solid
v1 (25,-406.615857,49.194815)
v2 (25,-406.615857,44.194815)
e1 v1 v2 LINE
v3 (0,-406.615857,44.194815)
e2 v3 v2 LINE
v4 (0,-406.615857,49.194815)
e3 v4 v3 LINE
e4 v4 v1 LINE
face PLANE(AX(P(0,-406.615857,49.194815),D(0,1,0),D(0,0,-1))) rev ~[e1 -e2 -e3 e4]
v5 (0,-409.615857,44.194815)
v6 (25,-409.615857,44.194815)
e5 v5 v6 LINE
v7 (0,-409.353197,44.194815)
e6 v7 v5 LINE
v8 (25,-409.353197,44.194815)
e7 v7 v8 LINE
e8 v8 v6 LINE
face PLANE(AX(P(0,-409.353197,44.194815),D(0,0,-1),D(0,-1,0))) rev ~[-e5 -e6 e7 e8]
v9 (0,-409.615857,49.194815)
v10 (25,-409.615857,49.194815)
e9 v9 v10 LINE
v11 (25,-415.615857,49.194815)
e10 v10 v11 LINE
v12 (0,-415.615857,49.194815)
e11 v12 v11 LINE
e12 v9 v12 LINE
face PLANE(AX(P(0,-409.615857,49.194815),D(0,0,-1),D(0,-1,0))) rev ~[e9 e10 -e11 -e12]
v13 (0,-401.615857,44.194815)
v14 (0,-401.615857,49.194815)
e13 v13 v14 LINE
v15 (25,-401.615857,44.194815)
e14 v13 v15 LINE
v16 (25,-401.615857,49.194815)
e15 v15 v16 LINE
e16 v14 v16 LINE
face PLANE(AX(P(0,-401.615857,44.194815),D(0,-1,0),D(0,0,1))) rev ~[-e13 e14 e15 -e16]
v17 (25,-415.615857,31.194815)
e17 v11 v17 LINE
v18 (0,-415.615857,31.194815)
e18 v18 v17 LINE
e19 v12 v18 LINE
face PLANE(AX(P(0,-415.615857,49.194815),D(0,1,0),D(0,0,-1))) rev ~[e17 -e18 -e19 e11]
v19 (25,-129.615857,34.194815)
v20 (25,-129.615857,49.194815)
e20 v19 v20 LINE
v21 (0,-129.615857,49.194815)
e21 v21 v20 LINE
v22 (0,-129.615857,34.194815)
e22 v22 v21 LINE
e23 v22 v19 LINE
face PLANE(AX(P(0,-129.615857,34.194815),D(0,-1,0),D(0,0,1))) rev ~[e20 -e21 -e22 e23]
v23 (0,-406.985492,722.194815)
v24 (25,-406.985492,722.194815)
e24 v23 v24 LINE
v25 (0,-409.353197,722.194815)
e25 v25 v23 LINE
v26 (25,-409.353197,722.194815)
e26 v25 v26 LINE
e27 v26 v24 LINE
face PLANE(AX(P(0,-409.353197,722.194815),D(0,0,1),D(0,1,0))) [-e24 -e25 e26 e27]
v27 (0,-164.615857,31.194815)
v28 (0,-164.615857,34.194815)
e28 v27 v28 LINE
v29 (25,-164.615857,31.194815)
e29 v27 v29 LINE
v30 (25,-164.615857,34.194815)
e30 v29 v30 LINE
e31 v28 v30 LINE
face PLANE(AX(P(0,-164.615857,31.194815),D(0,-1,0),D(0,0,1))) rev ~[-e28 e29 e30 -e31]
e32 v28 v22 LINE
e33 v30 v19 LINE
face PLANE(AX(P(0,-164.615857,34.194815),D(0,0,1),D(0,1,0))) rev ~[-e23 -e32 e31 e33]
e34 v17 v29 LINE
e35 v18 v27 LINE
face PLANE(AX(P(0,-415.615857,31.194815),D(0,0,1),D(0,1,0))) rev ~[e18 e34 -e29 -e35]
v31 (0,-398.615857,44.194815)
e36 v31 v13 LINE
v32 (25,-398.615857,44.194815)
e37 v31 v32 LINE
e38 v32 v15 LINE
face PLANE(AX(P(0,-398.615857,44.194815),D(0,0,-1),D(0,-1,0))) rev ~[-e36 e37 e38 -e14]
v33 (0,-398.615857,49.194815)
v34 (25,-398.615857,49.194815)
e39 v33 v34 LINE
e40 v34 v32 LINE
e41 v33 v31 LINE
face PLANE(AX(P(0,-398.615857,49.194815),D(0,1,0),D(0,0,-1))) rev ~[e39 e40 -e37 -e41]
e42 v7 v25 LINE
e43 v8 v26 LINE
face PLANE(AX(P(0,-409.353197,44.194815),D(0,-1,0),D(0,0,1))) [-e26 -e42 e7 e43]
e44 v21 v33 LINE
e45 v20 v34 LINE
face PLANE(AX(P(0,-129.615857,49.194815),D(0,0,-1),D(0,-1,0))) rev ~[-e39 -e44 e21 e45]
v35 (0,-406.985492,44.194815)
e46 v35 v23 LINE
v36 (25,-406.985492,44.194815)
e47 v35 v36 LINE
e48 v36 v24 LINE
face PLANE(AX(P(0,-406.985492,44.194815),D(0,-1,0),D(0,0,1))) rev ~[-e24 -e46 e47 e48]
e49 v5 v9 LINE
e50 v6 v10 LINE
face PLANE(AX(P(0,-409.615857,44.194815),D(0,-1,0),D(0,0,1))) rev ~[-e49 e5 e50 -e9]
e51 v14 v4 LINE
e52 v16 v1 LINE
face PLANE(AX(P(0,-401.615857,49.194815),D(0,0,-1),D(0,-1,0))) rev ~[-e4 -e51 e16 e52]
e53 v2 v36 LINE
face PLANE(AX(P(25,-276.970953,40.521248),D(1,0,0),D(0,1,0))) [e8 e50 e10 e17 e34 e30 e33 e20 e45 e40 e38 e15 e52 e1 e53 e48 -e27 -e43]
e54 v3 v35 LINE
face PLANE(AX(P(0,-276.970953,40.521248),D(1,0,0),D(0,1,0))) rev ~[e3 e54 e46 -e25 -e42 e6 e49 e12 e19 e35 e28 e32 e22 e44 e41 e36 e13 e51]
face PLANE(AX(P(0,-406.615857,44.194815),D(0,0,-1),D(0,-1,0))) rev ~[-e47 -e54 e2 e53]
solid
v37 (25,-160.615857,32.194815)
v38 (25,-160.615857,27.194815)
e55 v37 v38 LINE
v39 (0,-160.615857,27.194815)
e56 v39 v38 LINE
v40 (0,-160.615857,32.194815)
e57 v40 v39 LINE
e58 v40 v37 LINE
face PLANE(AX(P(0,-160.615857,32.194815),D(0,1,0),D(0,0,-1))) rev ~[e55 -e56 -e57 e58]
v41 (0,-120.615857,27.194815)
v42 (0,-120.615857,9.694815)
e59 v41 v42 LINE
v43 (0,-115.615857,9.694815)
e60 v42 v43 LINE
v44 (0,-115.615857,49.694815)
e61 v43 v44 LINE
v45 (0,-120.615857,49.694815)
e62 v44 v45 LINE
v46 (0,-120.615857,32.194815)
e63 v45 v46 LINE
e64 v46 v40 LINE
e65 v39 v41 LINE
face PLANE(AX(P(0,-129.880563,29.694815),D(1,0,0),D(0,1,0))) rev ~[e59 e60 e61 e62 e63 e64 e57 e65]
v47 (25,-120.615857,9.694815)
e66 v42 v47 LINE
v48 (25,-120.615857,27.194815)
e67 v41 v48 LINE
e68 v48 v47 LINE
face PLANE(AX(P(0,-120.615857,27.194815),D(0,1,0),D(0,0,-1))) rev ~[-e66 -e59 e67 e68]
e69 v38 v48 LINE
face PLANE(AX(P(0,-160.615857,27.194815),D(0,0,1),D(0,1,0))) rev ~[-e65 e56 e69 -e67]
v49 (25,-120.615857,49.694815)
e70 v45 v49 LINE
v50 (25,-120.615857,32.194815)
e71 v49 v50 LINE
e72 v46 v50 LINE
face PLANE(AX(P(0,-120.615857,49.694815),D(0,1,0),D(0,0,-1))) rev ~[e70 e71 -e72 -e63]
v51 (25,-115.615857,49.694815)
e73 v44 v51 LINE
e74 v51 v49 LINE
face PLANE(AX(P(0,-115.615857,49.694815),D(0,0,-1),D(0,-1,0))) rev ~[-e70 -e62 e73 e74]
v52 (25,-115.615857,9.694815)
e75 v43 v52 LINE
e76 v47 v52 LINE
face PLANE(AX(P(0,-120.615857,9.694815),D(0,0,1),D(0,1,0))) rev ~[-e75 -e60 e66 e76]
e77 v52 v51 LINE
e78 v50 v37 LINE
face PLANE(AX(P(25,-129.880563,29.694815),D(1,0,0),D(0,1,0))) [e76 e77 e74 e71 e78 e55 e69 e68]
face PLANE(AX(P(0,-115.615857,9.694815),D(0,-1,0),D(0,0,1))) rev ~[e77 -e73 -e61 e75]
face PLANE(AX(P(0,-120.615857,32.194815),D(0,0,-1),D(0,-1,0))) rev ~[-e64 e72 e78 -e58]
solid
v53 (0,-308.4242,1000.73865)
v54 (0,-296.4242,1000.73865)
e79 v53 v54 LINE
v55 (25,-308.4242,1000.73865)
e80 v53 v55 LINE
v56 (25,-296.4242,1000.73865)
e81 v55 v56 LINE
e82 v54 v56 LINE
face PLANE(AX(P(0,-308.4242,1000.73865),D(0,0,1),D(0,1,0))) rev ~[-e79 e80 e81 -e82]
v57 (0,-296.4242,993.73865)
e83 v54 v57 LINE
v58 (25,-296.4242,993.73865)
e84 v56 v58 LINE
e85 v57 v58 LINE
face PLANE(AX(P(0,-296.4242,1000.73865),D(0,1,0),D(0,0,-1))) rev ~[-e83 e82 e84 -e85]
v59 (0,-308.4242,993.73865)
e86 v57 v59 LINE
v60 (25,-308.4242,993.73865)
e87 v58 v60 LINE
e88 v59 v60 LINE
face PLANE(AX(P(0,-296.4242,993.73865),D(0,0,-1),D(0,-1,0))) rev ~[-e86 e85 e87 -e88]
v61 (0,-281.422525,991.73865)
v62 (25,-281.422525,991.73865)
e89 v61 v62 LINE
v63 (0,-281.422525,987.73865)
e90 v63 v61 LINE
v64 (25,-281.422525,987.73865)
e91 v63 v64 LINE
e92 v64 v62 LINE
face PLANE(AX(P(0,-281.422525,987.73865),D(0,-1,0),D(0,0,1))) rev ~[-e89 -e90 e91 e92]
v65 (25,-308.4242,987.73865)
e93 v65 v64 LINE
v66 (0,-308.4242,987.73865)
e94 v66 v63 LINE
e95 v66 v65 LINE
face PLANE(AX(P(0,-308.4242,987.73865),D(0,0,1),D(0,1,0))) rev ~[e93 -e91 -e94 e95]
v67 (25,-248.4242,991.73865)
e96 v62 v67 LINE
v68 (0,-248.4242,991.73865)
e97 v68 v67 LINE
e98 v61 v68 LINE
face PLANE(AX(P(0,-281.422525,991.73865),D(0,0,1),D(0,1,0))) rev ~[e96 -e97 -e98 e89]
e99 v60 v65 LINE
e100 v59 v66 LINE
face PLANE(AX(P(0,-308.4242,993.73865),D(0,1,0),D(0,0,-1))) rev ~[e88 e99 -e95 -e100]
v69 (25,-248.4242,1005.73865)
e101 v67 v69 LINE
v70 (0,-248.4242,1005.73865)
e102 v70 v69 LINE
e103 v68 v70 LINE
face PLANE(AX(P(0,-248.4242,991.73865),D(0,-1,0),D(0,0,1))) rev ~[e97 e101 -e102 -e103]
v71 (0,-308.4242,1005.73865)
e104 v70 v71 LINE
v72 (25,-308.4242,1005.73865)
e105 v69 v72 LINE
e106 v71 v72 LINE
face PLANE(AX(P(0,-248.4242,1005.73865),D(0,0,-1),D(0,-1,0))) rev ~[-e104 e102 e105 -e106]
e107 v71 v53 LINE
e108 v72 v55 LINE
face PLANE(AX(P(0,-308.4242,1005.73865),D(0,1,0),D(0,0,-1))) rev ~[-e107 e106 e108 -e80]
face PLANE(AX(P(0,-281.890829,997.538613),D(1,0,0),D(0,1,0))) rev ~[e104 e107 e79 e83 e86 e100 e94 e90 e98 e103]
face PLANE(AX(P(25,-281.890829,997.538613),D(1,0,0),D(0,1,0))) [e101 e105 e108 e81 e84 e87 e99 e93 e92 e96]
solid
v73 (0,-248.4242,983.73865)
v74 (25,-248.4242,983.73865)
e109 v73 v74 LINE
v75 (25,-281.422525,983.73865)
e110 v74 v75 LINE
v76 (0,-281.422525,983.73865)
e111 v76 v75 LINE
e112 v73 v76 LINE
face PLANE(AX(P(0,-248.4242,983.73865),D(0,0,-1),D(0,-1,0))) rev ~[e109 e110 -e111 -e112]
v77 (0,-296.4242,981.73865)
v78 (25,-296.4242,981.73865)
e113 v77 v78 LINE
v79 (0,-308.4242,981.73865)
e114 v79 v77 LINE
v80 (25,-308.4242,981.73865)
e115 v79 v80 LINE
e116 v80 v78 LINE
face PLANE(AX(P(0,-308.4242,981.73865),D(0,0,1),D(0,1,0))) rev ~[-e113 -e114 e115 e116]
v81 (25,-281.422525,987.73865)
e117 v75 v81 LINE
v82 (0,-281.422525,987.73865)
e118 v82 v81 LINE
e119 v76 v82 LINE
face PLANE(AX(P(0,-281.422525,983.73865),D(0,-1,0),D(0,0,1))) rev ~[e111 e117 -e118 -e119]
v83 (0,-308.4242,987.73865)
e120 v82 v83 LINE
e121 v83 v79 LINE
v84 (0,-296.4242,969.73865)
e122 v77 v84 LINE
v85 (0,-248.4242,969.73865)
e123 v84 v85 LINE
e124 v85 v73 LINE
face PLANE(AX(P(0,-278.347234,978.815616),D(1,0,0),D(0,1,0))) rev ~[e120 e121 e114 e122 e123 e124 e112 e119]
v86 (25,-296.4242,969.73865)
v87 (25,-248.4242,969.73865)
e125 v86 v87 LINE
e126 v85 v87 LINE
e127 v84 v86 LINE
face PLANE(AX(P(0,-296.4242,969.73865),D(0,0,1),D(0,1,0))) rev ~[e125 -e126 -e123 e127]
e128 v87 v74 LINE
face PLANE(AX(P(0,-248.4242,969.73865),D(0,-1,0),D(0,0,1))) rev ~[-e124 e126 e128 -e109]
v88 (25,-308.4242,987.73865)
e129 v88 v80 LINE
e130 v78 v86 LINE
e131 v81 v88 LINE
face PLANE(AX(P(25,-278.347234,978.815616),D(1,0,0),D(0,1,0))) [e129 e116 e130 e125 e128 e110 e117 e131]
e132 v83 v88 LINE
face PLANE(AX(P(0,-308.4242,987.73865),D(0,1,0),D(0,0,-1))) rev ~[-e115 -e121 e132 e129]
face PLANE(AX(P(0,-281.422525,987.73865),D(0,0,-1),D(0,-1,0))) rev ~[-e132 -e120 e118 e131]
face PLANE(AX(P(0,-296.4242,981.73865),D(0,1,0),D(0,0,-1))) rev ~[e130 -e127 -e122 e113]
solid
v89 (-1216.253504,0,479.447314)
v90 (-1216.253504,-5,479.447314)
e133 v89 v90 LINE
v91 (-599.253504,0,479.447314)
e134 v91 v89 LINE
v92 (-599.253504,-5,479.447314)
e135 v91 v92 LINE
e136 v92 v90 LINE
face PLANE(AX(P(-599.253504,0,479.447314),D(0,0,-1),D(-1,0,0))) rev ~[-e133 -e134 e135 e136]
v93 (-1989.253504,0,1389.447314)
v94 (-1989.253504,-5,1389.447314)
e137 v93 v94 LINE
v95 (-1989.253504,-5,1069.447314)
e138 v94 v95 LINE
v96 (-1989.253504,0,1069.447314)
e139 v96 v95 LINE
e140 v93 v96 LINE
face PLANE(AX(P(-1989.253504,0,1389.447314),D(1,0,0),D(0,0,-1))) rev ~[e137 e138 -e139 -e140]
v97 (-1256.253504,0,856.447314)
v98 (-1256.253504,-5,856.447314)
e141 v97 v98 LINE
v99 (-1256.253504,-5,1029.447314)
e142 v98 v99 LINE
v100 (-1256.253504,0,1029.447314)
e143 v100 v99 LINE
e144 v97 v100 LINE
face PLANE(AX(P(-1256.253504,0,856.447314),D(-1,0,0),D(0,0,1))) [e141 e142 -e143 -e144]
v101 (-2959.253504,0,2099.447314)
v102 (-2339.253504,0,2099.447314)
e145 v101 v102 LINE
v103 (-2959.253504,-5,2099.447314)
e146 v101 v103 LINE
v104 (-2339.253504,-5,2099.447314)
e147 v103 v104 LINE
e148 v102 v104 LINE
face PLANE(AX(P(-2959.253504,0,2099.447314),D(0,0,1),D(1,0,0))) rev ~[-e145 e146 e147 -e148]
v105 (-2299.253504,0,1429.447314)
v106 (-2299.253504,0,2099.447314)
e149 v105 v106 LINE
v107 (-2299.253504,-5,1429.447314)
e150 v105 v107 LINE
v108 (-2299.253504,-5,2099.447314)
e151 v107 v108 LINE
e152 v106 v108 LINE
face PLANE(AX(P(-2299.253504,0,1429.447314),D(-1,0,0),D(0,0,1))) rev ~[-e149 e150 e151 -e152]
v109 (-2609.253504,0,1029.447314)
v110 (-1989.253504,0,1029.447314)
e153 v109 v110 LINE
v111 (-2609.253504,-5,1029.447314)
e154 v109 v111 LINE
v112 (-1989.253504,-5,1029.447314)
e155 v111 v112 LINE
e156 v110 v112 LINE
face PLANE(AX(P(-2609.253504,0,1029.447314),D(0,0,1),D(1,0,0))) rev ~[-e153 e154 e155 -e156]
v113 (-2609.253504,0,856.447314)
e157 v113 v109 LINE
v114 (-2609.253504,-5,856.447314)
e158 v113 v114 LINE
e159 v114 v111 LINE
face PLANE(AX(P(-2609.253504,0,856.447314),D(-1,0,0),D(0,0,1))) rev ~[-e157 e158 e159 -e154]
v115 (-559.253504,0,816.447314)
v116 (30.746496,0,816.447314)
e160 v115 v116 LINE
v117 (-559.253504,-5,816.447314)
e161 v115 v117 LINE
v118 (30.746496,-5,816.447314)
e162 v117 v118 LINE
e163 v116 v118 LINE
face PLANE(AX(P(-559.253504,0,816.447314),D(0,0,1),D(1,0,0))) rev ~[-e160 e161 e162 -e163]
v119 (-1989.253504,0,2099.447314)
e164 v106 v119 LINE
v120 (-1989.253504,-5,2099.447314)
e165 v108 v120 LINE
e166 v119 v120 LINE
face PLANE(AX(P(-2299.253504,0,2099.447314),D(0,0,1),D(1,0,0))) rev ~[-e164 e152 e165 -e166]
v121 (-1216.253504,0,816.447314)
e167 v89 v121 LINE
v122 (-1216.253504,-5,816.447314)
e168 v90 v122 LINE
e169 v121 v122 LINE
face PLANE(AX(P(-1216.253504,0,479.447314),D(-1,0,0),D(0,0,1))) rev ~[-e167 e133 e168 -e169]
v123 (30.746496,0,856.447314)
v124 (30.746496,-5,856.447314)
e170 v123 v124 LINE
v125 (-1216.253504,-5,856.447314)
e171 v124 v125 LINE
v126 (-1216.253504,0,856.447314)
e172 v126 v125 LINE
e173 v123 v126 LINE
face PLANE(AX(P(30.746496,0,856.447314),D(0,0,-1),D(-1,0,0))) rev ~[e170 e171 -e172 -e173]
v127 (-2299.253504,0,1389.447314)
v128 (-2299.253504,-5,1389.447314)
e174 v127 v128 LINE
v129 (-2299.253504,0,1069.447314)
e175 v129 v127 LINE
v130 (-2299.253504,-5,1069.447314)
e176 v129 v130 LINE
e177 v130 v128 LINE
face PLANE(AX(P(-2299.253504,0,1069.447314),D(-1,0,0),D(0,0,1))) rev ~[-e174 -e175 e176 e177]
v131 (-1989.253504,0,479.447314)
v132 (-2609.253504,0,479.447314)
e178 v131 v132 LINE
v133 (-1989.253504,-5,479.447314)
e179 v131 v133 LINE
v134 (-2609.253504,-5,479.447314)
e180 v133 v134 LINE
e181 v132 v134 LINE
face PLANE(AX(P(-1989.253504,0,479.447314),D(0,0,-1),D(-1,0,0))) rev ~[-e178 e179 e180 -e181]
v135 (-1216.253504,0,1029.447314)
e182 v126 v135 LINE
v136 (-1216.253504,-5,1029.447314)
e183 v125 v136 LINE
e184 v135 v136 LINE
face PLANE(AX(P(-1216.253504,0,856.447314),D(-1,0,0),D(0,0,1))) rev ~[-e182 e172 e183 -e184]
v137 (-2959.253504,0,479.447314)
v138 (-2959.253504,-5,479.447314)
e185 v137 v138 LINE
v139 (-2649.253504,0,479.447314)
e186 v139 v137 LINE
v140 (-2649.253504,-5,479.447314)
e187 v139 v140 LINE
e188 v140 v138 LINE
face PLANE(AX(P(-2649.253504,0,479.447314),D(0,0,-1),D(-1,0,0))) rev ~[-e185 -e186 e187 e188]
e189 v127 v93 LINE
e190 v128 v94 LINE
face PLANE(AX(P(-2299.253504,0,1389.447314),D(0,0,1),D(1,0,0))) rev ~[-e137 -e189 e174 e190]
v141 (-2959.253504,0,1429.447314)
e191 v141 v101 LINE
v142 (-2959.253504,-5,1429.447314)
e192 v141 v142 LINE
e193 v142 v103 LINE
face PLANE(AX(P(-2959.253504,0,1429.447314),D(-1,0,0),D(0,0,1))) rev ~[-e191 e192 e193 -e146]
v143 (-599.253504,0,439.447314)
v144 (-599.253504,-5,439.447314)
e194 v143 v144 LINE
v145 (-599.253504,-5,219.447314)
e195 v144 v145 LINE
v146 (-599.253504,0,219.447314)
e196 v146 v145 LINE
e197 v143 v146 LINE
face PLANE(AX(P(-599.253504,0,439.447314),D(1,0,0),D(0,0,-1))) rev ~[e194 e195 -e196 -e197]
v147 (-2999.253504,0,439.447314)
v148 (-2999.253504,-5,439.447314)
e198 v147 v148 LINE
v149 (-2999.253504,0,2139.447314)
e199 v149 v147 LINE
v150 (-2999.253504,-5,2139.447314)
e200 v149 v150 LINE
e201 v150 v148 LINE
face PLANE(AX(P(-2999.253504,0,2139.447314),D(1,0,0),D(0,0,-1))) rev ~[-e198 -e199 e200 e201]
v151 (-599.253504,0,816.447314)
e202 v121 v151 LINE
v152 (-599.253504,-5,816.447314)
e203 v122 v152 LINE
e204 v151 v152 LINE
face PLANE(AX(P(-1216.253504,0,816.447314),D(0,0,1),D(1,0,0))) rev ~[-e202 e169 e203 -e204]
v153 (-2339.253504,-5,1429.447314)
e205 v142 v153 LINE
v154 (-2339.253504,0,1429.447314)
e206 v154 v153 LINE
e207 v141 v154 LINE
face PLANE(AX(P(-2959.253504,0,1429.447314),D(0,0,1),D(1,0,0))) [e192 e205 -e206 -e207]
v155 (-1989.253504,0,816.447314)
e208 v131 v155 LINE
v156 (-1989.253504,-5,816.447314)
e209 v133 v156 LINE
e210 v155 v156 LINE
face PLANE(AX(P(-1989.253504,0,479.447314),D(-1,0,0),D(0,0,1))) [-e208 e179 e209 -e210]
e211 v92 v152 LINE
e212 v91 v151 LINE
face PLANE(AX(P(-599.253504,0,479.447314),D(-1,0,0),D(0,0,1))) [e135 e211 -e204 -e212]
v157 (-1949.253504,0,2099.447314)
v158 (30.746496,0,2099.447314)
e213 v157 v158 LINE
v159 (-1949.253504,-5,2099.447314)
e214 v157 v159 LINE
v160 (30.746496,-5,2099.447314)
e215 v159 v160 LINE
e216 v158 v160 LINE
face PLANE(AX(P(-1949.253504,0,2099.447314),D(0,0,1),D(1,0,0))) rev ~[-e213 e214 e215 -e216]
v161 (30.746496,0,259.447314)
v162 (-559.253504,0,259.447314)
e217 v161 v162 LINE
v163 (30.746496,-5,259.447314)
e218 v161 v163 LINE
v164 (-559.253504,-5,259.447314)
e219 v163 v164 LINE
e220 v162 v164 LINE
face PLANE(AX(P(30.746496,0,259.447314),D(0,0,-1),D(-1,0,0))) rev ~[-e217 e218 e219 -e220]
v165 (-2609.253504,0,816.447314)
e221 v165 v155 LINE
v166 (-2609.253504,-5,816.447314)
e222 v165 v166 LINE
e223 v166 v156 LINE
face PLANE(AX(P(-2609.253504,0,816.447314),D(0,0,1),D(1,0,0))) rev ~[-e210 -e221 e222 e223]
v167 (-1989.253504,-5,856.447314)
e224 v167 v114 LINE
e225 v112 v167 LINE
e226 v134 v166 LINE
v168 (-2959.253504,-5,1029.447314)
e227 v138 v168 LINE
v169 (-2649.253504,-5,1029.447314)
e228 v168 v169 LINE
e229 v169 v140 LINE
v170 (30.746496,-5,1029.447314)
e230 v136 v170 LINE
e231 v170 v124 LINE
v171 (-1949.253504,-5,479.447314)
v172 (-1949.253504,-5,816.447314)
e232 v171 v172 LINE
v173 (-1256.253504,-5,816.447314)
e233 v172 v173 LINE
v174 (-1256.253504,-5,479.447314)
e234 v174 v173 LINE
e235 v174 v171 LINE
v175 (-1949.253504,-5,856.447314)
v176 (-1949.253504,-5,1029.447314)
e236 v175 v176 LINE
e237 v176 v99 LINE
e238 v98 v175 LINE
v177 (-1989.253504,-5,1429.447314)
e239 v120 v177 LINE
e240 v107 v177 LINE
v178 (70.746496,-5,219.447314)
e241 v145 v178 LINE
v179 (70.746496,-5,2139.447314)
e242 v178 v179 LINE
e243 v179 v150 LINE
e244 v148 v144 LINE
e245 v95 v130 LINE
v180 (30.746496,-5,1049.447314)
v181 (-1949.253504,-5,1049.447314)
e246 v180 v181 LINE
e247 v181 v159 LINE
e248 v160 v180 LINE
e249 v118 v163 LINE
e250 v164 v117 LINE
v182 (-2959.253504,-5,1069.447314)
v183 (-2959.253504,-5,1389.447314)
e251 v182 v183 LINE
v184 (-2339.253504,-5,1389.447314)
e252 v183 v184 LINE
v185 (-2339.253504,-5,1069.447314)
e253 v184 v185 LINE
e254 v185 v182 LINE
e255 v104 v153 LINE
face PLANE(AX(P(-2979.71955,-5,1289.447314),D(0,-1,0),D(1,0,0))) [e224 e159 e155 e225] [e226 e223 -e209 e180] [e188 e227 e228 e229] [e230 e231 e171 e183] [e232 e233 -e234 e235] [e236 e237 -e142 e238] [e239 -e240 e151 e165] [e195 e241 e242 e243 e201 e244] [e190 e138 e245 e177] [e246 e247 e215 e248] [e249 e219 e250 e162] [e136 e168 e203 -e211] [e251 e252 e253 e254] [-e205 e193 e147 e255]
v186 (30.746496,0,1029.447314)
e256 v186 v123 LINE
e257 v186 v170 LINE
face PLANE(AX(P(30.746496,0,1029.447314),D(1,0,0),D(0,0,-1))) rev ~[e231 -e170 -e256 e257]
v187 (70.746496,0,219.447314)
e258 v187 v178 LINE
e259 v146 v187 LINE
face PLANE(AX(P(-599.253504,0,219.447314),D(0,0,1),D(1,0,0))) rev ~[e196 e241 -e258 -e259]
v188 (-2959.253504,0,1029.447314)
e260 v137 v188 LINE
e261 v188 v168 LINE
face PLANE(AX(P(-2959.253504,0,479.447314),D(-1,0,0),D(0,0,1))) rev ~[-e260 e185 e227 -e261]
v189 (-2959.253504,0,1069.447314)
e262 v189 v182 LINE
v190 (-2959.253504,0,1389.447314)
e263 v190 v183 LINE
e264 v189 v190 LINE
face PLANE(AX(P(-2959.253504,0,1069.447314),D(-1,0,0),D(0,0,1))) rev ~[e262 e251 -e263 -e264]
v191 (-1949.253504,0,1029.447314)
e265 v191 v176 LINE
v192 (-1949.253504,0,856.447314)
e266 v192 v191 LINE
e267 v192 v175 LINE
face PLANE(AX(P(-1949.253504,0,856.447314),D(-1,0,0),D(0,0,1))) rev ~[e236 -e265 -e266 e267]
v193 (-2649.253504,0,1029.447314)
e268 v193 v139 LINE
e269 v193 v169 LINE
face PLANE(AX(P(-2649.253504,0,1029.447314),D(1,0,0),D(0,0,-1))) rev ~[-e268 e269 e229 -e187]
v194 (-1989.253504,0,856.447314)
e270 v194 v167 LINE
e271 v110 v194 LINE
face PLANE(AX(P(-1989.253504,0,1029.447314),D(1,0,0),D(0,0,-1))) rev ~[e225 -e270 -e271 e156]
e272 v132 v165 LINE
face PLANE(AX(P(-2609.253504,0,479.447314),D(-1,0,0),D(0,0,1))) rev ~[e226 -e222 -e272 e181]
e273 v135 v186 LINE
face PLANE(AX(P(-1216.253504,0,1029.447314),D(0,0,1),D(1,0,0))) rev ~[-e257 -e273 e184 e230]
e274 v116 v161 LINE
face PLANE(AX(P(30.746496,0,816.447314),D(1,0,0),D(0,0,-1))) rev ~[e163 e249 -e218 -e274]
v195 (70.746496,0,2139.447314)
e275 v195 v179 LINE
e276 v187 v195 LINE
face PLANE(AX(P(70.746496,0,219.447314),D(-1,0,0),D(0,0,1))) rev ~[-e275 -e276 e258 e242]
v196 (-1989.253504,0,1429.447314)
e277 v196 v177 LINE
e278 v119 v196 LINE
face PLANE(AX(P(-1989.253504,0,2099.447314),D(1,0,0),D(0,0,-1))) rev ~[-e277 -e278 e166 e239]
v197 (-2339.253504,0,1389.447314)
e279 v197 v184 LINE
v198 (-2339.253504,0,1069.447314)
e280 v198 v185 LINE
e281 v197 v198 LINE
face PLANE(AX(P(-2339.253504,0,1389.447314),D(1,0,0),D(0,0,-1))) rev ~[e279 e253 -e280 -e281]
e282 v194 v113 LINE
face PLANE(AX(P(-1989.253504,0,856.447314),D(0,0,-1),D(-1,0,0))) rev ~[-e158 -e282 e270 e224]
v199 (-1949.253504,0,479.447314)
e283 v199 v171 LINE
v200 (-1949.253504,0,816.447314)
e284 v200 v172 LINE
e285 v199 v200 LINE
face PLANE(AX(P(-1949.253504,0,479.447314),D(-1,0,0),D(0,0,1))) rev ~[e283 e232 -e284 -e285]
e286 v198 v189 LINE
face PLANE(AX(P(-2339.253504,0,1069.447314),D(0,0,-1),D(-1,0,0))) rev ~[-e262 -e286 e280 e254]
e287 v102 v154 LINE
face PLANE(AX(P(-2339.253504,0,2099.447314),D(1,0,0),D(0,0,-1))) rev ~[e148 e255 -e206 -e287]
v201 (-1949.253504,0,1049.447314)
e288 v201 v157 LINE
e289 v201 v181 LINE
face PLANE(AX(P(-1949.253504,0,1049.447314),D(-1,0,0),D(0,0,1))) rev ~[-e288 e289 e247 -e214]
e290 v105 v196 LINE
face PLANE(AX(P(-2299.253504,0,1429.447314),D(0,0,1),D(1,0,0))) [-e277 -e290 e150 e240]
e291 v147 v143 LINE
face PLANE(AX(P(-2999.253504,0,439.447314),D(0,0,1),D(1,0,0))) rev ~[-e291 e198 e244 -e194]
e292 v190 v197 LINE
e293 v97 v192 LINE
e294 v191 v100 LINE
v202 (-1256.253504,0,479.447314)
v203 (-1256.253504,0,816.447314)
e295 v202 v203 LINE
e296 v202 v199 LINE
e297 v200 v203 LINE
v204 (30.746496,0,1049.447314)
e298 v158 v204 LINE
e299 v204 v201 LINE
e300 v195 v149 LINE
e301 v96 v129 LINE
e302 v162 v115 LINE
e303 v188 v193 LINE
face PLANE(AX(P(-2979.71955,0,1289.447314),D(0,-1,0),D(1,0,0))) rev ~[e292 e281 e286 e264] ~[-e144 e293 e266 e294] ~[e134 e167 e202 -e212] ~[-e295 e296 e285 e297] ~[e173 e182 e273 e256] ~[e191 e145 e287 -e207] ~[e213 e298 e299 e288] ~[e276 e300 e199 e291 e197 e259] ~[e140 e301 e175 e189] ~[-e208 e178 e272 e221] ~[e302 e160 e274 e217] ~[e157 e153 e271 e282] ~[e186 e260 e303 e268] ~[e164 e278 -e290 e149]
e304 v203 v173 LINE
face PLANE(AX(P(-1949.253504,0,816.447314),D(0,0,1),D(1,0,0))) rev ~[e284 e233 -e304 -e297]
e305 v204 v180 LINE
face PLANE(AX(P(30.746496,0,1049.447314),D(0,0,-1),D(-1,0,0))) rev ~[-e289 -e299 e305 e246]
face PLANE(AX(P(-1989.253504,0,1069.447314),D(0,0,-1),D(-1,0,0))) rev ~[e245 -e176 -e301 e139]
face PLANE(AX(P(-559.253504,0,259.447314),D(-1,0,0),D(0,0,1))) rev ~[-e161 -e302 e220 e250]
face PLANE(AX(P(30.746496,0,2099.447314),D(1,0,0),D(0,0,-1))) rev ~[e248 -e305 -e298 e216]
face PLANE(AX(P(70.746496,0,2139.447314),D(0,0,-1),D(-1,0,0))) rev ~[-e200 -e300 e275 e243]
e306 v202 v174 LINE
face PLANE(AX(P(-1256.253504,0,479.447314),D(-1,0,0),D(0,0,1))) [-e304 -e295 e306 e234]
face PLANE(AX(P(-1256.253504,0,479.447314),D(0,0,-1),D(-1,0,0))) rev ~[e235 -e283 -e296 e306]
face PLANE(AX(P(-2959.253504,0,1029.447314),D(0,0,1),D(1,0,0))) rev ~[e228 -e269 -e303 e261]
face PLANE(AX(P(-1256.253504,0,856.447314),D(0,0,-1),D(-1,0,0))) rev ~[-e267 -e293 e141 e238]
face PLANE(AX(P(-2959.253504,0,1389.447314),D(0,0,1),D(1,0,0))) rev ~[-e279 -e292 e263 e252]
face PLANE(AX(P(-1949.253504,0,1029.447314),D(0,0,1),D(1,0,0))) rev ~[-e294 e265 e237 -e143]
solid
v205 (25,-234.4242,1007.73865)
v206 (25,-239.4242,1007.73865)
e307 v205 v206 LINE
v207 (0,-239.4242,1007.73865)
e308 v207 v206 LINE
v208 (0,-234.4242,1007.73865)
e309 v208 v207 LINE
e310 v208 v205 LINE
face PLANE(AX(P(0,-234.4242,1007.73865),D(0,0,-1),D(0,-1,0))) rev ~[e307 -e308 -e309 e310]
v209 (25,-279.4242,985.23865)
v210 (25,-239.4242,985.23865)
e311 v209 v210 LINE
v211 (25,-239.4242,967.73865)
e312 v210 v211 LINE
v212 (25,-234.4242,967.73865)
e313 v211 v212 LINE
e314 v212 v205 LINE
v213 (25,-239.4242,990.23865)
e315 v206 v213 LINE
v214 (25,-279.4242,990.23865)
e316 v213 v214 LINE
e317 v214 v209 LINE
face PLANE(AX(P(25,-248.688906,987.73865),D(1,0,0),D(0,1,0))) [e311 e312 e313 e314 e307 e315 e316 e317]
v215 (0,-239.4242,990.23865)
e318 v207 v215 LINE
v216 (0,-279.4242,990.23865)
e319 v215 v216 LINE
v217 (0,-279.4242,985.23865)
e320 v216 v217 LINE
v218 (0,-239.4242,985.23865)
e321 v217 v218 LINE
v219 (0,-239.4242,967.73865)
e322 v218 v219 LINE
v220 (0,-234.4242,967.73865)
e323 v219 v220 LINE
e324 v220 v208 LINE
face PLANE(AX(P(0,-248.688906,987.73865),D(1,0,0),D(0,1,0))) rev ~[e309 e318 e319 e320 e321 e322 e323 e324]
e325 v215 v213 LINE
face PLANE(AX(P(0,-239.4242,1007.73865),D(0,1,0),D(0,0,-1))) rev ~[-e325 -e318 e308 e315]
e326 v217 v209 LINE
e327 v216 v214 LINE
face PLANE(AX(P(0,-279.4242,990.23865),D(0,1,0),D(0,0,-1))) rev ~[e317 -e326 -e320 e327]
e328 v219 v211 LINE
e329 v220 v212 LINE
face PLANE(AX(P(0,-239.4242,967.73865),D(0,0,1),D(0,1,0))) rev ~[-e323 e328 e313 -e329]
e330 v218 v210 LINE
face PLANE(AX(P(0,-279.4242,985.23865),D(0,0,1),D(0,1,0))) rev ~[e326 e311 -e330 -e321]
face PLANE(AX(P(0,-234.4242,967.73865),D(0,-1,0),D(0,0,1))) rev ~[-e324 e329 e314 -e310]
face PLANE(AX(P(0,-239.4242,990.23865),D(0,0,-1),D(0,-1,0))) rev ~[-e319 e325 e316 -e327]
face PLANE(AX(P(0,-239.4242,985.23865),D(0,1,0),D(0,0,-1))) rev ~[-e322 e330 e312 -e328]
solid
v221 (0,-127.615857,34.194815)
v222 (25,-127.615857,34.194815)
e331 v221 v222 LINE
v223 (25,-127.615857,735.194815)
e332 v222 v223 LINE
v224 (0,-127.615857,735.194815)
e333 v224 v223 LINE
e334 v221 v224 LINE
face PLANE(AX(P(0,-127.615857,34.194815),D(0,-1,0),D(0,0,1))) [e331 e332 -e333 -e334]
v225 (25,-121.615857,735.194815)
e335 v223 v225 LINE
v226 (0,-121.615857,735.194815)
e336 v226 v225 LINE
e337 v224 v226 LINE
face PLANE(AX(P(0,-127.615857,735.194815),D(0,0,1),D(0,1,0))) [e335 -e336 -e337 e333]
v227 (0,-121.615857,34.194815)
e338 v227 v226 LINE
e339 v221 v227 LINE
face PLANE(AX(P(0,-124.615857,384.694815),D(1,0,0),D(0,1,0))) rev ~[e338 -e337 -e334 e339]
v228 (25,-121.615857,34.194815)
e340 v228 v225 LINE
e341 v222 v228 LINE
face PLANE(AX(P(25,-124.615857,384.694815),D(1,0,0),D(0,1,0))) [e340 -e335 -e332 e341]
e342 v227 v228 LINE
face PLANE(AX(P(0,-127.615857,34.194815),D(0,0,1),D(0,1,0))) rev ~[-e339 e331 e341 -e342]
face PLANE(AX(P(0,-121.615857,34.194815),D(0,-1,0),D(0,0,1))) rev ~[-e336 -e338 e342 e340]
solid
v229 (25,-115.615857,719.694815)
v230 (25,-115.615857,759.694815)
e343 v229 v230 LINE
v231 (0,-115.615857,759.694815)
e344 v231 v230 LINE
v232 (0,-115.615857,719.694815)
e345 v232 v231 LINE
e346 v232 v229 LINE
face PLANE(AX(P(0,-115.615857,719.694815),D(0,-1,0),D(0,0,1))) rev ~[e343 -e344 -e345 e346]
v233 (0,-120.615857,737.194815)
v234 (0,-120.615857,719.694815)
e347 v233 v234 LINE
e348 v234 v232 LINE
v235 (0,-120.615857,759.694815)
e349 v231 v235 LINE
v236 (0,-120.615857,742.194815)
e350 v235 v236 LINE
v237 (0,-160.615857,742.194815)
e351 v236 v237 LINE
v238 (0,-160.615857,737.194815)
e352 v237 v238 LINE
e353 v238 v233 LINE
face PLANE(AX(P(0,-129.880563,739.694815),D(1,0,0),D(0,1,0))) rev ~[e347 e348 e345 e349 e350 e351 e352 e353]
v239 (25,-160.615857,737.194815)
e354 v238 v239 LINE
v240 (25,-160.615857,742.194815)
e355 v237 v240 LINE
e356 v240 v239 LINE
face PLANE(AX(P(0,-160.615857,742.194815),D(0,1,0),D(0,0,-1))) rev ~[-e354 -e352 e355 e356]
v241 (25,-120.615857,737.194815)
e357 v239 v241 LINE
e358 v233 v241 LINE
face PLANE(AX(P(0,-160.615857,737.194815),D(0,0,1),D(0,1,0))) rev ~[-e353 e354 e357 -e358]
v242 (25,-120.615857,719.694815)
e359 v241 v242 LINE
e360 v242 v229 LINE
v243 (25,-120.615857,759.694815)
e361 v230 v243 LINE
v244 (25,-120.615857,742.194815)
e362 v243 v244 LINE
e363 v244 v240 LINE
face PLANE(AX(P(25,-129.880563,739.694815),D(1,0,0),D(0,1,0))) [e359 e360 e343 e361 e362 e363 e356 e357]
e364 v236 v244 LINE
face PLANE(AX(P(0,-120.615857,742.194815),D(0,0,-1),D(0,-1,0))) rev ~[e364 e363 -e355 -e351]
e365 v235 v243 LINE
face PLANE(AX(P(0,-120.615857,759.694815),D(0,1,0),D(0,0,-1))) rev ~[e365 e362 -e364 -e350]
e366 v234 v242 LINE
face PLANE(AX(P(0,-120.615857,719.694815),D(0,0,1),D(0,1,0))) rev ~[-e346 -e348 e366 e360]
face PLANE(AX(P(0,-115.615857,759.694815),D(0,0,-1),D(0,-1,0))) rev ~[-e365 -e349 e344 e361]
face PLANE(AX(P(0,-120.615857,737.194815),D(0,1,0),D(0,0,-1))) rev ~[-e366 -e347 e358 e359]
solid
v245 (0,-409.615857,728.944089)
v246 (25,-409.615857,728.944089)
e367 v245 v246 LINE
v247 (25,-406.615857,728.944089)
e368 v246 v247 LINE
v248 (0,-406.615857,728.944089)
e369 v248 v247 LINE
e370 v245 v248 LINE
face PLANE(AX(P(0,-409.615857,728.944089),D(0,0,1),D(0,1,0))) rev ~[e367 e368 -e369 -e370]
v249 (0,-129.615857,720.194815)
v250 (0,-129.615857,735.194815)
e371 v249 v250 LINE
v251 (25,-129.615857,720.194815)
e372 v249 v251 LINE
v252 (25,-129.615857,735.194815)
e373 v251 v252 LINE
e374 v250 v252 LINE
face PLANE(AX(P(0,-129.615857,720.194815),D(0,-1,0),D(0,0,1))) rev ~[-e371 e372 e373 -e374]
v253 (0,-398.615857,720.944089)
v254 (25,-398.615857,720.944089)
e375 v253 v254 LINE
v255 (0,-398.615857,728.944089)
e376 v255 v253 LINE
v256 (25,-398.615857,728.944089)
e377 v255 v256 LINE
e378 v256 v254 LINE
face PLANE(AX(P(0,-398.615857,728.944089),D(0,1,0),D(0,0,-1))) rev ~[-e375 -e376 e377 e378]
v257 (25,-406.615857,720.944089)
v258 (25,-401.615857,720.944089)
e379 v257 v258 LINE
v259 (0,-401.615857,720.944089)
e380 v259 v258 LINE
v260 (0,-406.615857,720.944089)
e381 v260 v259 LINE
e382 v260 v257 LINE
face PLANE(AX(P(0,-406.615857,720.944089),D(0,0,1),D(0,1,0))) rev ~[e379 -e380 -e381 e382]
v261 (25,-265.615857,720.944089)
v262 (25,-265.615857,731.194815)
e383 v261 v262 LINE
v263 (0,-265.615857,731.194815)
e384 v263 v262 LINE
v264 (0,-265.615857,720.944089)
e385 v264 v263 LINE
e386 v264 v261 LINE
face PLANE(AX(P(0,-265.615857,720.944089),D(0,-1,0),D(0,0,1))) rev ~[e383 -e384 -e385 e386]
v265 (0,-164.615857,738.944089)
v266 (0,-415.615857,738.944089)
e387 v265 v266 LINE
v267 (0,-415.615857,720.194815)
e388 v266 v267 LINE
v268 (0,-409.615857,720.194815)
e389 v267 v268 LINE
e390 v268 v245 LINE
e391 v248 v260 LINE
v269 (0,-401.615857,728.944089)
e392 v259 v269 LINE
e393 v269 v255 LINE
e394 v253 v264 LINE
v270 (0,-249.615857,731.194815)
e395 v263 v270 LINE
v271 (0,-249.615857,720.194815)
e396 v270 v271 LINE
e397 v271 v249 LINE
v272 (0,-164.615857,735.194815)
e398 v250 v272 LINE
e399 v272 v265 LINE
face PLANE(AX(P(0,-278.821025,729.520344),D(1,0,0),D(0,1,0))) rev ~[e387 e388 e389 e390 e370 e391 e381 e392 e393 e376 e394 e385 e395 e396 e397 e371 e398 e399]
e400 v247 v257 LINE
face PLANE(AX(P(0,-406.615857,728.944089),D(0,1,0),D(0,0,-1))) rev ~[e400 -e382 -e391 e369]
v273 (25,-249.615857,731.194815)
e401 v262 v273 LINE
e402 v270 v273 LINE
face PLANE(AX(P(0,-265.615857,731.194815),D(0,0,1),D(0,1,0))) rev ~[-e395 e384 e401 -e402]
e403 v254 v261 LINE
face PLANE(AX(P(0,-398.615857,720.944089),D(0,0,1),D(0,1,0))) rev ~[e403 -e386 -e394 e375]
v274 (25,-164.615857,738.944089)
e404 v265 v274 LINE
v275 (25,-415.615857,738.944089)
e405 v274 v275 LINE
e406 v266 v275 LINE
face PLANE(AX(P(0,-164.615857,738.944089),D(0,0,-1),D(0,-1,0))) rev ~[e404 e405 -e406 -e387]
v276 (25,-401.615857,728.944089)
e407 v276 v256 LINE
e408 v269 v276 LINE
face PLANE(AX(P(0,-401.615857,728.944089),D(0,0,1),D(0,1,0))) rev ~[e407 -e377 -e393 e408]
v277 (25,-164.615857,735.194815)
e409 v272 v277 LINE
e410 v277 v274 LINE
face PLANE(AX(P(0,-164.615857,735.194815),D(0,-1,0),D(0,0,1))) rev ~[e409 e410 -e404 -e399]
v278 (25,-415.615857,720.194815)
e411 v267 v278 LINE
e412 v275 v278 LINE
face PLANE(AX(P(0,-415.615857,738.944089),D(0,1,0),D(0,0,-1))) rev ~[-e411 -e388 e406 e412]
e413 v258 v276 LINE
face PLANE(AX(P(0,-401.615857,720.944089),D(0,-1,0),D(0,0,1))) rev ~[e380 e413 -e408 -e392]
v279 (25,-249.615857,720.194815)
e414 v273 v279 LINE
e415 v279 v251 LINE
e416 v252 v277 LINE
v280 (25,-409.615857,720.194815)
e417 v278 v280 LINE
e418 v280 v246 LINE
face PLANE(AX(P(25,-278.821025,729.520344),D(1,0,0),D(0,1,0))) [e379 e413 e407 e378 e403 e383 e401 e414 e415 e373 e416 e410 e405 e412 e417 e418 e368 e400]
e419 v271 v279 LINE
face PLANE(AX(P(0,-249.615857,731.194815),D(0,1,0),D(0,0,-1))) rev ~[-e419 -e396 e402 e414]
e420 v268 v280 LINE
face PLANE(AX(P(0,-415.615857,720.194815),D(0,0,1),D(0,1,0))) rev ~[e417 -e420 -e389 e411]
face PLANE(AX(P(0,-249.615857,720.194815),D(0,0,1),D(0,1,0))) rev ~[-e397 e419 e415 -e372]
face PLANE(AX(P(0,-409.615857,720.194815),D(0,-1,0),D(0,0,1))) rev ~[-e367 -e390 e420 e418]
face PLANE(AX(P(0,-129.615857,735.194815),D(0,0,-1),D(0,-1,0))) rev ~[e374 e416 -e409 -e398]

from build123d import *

# Parameters (mm, degrees)
F0_W     = 620
F0_H     = 40
F0_W_2   = 310
F0_W_3   = 40
F0_H_2   = 337
F0_H_3   = 173
F1_DEPTH = 5
F2_W     = 6
F2_H     = 701
F2_W_2   = 2.367705
F2_H_2   = 678
F3_DEPTH = 25
F5_DEPTH = 25
F6_DEPTH = 25


with BuildPart() as f1:
    # F0 (on Front) → F1 (new body)
    with BuildSketch(Plane.XZ):
        Polygon((-2959.253504, 2099.447314), (-2999.253504, 2139.447314), (-2999.253504, 439.447314), (-2959.253504, 479.447314), (-2959.253504, 1029.447314), (-2959.253504, 1069.447314), (-2959.253504, 1389.447314), (-2959.253504, 1429.447314), align=None)
        Polygon((70.746496, 2139.447314), (-2999.253504, 2139.447314), (-2959.253504, 2099.447314), (-2339.253504, 2099.447314), (-2299.253504, 2099.447314), (-1989.253504, 2099.447314), (-1949.253504, 2099.447314), (30.746496, 2099.447314), align=None)
        Polygon((70.746496, 219.447314), (70.746496, 2139.447314), (30.746496, 2099.447314), (30.746496, 1079.447314), (30.746496, 1049.447314), (30.746496, 1029.447314), (30.746496, 856.447314), (30.746496, 816.447314), (30.746496, 259.447314), align=None)
        Polygon((-2959.253504, 479.447314), (-2999.253504, 439.447314), (-599.253504, 439.447314), (-559.253504, 479.447314), (-599.253504, 479.447314), (-1216.253504, 479.447314), (-1256.253504, 479.447314), (-1949.253504, 479.447314), (-1989.253504, 479.447314), (-2609.253504, 479.447314), (-2649.253504, 479.447314), align=None)
        Polygon((-599.253504, 219.447314), (70.746496, 219.447314), (30.746496, 259.447314), (-559.253504, 259.447314), align=None)
        Polygon((-559.253504, 479.447314), (-599.253504, 439.447314), (-599.253504, 219.447314), (-559.253504, 259.447314), align=None)
        with Locations((-2649.253504, 1409.447314)):
            Rectangle(F0_W, F0_H)
        Polygon((-2299.253504, 2099.447314), (-2339.253504, 2099.447314), (-2339.253504, 1429.447314), (-2339.253504, 1389.447314), (-2339.253504, 1069.447314), (-2299.253504, 1069.447314), (-2299.253504, 1389.447314), (-2299.253504, 1429.447314), align=None)
        with Locations((-2144.253504, 1409.447314)):
            Rectangle(F0_W_2, F0_H)
        Polygon((-1949.253504, 1079.447314), (-1949.253504, 2099.447314), (-1989.253504, 2099.447314), (-1989.253504, 1429.447314), (-1989.253504, 1389.447314), (-1989.253504, 1069.447314), (-1989.253504, 1029.447314), (-1989.253504, 856.447314), (-1949.253504, 856.447314), (-1949.253504, 1029.447314), (-1949.253504, 1049.447314), align=None)
        Polygon((-2959.253504, 1069.447314), (-2959.253504, 1029.447314), (-2649.253504, 1029.447314), (-2609.253504, 1029.447314), (-1989.253504, 1029.447314), (-1989.253504, 1069.447314), (-2299.253504, 1069.447314), (-2339.253504, 1069.447314), align=None)
        Polygon((-2649.253504, 1029.447314), (-2649.253504, 479.447314), (-2609.253504, 479.447314), (-2609.253504, 816.447314), (-2609.253504, 856.447314), (-2609.253504, 1029.447314), align=None)
        Polygon((-559.253504, 816.447314), (30.746496, 816.447314), (30.746496, 856.447314), (-1216.253504, 856.447314), (-1256.253504, 856.447314), (-1949.253504, 856.447314), (-1989.253504, 856.447314), (-2609.253504, 856.447314), (-2609.253504, 816.447314), (-1989.253504, 816.447314), (-1949.253504, 816.447314), (-1256.253504, 816.447314), (-1216.253504, 816.447314), (-599.253504, 816.447314), align=None)
        with Locations((-1969.253504, 647.947314)):
            Rectangle(F0_W_3, F0_H_2)
        Polygon((30.746496, 1029.447314), (30.746496, 1049.447314), (-1949.253504, 1049.447314), (-1949.253504, 1029.447314), (-1256.253504, 1029.447314), (-1216.253504, 1029.447314), align=None)
        with Locations((-1236.253504, 942.947314)):
            Rectangle(F0_W_3, F0_H_3)
        with Locations((-1236.253504, 647.947314)):
            Rectangle(F0_W_3, F0_H_2)
        with Locations((-579.253504, 647.947314)):
            Rectangle(F0_W_3, F0_H_2)
    extrude(amount=F1_DEPTH)


with BuildPart() as f3:
    # F2 (on Right) → F3 (new body)
    with BuildSketch(Plane.YZ):
        Polygon((-115.615857, 9.694815), (-115.615857, 49.694815), (-120.615857, 49.694815), (-120.615857, 32.194815), (-160.615857, 32.194815), (-160.615857, 27.194815), (-120.615857, 27.194815), (-120.615857, 9.694815), align=None)
        Polygon((-115.615857, 719.694815), (-115.615857, 759.694815), (-120.615857, 759.694815), (-120.615857, 742.194815), (-160.615857, 742.194815), (-160.615857, 737.194815), (-120.615857, 737.194815), (-120.615857, 719.694815), align=None)
        with Locations((-124.615857, 384.694815)):
            Rectangle(F2_W, F2_H)
        Polygon((-164.615857, 735.194815), (-164.615857, 738.944089), (-415.615857, 738.944089), (-415.615857, 720.194815), (-409.615857, 720.194815), (-409.615857, 728.944089), (-406.615857, 728.944089), (-406.615857, 720.944089), (-401.615857, 720.944089), (-401.615857, 728.944089), (-398.615857, 728.944089), (-398.615857, 720.944089), (-265.615857, 720.944089), (-265.615857, 731.194815), (-249.615857, 731.194815), (-249.615857, 720.194815), (-129.615857, 720.194815), (-129.615857, 735.194815), align=None)
        Polygon((-164.615857, 34.194815), (-129.615857, 34.194815), (-129.615857, 49.194815), (-398.615857, 49.194815), (-398.615857, 44.194815), (-401.615857, 44.194815), (-401.615857, 49.194815), (-406.615857, 49.194815), (-406.615857, 44.194815), (-406.985492, 44.194815), (-409.353197, 44.194815), (-409.615857, 44.194815), (-409.615857, 49.194815), (-415.615857, 49.194815), (-415.615857, 31.194815), (-164.615857, 31.194815), align=None)
        with Locations((-408.169344, 383.194815)):
            Rectangle(F2_W_2, F2_H_2)
    extrude(amount=F3_DEPTH)


with BuildPart() as f5:
    # F4 (on Right) → F5 (new body)
    with BuildSketch(Plane.YZ):
        Polygon((-239.4242, 990.23865), (-279.4242, 990.23865), (-279.4242, 985.23865), (-239.4242, 985.23865), (-239.4242, 967.73865), (-234.4242, 967.73865), (-234.4242, 1007.73865), (-239.4242, 1007.73865), align=None)
        Polygon((-248.4242, 1005.73865), (-308.4242, 1005.73865), (-308.4242, 1000.73865), (-296.4242, 1000.73865), (-296.4242, 993.73865), (-308.4242, 993.73865), (-308.4242, 987.73865), (-281.422525, 987.73865), (-281.422525, 991.73865), (-248.4242, 991.73865), align=None)
    extrude(amount=F5_DEPTH)


with BuildPart() as f6:
    # F4 (on Right) → F6 (new body)
    with BuildSketch(Plane.YZ):
        Polygon((-281.422525, 983.73865), (-281.422525, 987.73865), (-308.4242, 987.73865), (-308.4242, 981.73865), (-296.4242, 981.73865), (-296.4242, 969.73865), (-248.4242, 969.73865), (-248.4242, 983.73865), align=None)
    extrude(amount=F6_DEPTH)


solid = Compound([f1.part, f3.part, f5.part, f6.part])
